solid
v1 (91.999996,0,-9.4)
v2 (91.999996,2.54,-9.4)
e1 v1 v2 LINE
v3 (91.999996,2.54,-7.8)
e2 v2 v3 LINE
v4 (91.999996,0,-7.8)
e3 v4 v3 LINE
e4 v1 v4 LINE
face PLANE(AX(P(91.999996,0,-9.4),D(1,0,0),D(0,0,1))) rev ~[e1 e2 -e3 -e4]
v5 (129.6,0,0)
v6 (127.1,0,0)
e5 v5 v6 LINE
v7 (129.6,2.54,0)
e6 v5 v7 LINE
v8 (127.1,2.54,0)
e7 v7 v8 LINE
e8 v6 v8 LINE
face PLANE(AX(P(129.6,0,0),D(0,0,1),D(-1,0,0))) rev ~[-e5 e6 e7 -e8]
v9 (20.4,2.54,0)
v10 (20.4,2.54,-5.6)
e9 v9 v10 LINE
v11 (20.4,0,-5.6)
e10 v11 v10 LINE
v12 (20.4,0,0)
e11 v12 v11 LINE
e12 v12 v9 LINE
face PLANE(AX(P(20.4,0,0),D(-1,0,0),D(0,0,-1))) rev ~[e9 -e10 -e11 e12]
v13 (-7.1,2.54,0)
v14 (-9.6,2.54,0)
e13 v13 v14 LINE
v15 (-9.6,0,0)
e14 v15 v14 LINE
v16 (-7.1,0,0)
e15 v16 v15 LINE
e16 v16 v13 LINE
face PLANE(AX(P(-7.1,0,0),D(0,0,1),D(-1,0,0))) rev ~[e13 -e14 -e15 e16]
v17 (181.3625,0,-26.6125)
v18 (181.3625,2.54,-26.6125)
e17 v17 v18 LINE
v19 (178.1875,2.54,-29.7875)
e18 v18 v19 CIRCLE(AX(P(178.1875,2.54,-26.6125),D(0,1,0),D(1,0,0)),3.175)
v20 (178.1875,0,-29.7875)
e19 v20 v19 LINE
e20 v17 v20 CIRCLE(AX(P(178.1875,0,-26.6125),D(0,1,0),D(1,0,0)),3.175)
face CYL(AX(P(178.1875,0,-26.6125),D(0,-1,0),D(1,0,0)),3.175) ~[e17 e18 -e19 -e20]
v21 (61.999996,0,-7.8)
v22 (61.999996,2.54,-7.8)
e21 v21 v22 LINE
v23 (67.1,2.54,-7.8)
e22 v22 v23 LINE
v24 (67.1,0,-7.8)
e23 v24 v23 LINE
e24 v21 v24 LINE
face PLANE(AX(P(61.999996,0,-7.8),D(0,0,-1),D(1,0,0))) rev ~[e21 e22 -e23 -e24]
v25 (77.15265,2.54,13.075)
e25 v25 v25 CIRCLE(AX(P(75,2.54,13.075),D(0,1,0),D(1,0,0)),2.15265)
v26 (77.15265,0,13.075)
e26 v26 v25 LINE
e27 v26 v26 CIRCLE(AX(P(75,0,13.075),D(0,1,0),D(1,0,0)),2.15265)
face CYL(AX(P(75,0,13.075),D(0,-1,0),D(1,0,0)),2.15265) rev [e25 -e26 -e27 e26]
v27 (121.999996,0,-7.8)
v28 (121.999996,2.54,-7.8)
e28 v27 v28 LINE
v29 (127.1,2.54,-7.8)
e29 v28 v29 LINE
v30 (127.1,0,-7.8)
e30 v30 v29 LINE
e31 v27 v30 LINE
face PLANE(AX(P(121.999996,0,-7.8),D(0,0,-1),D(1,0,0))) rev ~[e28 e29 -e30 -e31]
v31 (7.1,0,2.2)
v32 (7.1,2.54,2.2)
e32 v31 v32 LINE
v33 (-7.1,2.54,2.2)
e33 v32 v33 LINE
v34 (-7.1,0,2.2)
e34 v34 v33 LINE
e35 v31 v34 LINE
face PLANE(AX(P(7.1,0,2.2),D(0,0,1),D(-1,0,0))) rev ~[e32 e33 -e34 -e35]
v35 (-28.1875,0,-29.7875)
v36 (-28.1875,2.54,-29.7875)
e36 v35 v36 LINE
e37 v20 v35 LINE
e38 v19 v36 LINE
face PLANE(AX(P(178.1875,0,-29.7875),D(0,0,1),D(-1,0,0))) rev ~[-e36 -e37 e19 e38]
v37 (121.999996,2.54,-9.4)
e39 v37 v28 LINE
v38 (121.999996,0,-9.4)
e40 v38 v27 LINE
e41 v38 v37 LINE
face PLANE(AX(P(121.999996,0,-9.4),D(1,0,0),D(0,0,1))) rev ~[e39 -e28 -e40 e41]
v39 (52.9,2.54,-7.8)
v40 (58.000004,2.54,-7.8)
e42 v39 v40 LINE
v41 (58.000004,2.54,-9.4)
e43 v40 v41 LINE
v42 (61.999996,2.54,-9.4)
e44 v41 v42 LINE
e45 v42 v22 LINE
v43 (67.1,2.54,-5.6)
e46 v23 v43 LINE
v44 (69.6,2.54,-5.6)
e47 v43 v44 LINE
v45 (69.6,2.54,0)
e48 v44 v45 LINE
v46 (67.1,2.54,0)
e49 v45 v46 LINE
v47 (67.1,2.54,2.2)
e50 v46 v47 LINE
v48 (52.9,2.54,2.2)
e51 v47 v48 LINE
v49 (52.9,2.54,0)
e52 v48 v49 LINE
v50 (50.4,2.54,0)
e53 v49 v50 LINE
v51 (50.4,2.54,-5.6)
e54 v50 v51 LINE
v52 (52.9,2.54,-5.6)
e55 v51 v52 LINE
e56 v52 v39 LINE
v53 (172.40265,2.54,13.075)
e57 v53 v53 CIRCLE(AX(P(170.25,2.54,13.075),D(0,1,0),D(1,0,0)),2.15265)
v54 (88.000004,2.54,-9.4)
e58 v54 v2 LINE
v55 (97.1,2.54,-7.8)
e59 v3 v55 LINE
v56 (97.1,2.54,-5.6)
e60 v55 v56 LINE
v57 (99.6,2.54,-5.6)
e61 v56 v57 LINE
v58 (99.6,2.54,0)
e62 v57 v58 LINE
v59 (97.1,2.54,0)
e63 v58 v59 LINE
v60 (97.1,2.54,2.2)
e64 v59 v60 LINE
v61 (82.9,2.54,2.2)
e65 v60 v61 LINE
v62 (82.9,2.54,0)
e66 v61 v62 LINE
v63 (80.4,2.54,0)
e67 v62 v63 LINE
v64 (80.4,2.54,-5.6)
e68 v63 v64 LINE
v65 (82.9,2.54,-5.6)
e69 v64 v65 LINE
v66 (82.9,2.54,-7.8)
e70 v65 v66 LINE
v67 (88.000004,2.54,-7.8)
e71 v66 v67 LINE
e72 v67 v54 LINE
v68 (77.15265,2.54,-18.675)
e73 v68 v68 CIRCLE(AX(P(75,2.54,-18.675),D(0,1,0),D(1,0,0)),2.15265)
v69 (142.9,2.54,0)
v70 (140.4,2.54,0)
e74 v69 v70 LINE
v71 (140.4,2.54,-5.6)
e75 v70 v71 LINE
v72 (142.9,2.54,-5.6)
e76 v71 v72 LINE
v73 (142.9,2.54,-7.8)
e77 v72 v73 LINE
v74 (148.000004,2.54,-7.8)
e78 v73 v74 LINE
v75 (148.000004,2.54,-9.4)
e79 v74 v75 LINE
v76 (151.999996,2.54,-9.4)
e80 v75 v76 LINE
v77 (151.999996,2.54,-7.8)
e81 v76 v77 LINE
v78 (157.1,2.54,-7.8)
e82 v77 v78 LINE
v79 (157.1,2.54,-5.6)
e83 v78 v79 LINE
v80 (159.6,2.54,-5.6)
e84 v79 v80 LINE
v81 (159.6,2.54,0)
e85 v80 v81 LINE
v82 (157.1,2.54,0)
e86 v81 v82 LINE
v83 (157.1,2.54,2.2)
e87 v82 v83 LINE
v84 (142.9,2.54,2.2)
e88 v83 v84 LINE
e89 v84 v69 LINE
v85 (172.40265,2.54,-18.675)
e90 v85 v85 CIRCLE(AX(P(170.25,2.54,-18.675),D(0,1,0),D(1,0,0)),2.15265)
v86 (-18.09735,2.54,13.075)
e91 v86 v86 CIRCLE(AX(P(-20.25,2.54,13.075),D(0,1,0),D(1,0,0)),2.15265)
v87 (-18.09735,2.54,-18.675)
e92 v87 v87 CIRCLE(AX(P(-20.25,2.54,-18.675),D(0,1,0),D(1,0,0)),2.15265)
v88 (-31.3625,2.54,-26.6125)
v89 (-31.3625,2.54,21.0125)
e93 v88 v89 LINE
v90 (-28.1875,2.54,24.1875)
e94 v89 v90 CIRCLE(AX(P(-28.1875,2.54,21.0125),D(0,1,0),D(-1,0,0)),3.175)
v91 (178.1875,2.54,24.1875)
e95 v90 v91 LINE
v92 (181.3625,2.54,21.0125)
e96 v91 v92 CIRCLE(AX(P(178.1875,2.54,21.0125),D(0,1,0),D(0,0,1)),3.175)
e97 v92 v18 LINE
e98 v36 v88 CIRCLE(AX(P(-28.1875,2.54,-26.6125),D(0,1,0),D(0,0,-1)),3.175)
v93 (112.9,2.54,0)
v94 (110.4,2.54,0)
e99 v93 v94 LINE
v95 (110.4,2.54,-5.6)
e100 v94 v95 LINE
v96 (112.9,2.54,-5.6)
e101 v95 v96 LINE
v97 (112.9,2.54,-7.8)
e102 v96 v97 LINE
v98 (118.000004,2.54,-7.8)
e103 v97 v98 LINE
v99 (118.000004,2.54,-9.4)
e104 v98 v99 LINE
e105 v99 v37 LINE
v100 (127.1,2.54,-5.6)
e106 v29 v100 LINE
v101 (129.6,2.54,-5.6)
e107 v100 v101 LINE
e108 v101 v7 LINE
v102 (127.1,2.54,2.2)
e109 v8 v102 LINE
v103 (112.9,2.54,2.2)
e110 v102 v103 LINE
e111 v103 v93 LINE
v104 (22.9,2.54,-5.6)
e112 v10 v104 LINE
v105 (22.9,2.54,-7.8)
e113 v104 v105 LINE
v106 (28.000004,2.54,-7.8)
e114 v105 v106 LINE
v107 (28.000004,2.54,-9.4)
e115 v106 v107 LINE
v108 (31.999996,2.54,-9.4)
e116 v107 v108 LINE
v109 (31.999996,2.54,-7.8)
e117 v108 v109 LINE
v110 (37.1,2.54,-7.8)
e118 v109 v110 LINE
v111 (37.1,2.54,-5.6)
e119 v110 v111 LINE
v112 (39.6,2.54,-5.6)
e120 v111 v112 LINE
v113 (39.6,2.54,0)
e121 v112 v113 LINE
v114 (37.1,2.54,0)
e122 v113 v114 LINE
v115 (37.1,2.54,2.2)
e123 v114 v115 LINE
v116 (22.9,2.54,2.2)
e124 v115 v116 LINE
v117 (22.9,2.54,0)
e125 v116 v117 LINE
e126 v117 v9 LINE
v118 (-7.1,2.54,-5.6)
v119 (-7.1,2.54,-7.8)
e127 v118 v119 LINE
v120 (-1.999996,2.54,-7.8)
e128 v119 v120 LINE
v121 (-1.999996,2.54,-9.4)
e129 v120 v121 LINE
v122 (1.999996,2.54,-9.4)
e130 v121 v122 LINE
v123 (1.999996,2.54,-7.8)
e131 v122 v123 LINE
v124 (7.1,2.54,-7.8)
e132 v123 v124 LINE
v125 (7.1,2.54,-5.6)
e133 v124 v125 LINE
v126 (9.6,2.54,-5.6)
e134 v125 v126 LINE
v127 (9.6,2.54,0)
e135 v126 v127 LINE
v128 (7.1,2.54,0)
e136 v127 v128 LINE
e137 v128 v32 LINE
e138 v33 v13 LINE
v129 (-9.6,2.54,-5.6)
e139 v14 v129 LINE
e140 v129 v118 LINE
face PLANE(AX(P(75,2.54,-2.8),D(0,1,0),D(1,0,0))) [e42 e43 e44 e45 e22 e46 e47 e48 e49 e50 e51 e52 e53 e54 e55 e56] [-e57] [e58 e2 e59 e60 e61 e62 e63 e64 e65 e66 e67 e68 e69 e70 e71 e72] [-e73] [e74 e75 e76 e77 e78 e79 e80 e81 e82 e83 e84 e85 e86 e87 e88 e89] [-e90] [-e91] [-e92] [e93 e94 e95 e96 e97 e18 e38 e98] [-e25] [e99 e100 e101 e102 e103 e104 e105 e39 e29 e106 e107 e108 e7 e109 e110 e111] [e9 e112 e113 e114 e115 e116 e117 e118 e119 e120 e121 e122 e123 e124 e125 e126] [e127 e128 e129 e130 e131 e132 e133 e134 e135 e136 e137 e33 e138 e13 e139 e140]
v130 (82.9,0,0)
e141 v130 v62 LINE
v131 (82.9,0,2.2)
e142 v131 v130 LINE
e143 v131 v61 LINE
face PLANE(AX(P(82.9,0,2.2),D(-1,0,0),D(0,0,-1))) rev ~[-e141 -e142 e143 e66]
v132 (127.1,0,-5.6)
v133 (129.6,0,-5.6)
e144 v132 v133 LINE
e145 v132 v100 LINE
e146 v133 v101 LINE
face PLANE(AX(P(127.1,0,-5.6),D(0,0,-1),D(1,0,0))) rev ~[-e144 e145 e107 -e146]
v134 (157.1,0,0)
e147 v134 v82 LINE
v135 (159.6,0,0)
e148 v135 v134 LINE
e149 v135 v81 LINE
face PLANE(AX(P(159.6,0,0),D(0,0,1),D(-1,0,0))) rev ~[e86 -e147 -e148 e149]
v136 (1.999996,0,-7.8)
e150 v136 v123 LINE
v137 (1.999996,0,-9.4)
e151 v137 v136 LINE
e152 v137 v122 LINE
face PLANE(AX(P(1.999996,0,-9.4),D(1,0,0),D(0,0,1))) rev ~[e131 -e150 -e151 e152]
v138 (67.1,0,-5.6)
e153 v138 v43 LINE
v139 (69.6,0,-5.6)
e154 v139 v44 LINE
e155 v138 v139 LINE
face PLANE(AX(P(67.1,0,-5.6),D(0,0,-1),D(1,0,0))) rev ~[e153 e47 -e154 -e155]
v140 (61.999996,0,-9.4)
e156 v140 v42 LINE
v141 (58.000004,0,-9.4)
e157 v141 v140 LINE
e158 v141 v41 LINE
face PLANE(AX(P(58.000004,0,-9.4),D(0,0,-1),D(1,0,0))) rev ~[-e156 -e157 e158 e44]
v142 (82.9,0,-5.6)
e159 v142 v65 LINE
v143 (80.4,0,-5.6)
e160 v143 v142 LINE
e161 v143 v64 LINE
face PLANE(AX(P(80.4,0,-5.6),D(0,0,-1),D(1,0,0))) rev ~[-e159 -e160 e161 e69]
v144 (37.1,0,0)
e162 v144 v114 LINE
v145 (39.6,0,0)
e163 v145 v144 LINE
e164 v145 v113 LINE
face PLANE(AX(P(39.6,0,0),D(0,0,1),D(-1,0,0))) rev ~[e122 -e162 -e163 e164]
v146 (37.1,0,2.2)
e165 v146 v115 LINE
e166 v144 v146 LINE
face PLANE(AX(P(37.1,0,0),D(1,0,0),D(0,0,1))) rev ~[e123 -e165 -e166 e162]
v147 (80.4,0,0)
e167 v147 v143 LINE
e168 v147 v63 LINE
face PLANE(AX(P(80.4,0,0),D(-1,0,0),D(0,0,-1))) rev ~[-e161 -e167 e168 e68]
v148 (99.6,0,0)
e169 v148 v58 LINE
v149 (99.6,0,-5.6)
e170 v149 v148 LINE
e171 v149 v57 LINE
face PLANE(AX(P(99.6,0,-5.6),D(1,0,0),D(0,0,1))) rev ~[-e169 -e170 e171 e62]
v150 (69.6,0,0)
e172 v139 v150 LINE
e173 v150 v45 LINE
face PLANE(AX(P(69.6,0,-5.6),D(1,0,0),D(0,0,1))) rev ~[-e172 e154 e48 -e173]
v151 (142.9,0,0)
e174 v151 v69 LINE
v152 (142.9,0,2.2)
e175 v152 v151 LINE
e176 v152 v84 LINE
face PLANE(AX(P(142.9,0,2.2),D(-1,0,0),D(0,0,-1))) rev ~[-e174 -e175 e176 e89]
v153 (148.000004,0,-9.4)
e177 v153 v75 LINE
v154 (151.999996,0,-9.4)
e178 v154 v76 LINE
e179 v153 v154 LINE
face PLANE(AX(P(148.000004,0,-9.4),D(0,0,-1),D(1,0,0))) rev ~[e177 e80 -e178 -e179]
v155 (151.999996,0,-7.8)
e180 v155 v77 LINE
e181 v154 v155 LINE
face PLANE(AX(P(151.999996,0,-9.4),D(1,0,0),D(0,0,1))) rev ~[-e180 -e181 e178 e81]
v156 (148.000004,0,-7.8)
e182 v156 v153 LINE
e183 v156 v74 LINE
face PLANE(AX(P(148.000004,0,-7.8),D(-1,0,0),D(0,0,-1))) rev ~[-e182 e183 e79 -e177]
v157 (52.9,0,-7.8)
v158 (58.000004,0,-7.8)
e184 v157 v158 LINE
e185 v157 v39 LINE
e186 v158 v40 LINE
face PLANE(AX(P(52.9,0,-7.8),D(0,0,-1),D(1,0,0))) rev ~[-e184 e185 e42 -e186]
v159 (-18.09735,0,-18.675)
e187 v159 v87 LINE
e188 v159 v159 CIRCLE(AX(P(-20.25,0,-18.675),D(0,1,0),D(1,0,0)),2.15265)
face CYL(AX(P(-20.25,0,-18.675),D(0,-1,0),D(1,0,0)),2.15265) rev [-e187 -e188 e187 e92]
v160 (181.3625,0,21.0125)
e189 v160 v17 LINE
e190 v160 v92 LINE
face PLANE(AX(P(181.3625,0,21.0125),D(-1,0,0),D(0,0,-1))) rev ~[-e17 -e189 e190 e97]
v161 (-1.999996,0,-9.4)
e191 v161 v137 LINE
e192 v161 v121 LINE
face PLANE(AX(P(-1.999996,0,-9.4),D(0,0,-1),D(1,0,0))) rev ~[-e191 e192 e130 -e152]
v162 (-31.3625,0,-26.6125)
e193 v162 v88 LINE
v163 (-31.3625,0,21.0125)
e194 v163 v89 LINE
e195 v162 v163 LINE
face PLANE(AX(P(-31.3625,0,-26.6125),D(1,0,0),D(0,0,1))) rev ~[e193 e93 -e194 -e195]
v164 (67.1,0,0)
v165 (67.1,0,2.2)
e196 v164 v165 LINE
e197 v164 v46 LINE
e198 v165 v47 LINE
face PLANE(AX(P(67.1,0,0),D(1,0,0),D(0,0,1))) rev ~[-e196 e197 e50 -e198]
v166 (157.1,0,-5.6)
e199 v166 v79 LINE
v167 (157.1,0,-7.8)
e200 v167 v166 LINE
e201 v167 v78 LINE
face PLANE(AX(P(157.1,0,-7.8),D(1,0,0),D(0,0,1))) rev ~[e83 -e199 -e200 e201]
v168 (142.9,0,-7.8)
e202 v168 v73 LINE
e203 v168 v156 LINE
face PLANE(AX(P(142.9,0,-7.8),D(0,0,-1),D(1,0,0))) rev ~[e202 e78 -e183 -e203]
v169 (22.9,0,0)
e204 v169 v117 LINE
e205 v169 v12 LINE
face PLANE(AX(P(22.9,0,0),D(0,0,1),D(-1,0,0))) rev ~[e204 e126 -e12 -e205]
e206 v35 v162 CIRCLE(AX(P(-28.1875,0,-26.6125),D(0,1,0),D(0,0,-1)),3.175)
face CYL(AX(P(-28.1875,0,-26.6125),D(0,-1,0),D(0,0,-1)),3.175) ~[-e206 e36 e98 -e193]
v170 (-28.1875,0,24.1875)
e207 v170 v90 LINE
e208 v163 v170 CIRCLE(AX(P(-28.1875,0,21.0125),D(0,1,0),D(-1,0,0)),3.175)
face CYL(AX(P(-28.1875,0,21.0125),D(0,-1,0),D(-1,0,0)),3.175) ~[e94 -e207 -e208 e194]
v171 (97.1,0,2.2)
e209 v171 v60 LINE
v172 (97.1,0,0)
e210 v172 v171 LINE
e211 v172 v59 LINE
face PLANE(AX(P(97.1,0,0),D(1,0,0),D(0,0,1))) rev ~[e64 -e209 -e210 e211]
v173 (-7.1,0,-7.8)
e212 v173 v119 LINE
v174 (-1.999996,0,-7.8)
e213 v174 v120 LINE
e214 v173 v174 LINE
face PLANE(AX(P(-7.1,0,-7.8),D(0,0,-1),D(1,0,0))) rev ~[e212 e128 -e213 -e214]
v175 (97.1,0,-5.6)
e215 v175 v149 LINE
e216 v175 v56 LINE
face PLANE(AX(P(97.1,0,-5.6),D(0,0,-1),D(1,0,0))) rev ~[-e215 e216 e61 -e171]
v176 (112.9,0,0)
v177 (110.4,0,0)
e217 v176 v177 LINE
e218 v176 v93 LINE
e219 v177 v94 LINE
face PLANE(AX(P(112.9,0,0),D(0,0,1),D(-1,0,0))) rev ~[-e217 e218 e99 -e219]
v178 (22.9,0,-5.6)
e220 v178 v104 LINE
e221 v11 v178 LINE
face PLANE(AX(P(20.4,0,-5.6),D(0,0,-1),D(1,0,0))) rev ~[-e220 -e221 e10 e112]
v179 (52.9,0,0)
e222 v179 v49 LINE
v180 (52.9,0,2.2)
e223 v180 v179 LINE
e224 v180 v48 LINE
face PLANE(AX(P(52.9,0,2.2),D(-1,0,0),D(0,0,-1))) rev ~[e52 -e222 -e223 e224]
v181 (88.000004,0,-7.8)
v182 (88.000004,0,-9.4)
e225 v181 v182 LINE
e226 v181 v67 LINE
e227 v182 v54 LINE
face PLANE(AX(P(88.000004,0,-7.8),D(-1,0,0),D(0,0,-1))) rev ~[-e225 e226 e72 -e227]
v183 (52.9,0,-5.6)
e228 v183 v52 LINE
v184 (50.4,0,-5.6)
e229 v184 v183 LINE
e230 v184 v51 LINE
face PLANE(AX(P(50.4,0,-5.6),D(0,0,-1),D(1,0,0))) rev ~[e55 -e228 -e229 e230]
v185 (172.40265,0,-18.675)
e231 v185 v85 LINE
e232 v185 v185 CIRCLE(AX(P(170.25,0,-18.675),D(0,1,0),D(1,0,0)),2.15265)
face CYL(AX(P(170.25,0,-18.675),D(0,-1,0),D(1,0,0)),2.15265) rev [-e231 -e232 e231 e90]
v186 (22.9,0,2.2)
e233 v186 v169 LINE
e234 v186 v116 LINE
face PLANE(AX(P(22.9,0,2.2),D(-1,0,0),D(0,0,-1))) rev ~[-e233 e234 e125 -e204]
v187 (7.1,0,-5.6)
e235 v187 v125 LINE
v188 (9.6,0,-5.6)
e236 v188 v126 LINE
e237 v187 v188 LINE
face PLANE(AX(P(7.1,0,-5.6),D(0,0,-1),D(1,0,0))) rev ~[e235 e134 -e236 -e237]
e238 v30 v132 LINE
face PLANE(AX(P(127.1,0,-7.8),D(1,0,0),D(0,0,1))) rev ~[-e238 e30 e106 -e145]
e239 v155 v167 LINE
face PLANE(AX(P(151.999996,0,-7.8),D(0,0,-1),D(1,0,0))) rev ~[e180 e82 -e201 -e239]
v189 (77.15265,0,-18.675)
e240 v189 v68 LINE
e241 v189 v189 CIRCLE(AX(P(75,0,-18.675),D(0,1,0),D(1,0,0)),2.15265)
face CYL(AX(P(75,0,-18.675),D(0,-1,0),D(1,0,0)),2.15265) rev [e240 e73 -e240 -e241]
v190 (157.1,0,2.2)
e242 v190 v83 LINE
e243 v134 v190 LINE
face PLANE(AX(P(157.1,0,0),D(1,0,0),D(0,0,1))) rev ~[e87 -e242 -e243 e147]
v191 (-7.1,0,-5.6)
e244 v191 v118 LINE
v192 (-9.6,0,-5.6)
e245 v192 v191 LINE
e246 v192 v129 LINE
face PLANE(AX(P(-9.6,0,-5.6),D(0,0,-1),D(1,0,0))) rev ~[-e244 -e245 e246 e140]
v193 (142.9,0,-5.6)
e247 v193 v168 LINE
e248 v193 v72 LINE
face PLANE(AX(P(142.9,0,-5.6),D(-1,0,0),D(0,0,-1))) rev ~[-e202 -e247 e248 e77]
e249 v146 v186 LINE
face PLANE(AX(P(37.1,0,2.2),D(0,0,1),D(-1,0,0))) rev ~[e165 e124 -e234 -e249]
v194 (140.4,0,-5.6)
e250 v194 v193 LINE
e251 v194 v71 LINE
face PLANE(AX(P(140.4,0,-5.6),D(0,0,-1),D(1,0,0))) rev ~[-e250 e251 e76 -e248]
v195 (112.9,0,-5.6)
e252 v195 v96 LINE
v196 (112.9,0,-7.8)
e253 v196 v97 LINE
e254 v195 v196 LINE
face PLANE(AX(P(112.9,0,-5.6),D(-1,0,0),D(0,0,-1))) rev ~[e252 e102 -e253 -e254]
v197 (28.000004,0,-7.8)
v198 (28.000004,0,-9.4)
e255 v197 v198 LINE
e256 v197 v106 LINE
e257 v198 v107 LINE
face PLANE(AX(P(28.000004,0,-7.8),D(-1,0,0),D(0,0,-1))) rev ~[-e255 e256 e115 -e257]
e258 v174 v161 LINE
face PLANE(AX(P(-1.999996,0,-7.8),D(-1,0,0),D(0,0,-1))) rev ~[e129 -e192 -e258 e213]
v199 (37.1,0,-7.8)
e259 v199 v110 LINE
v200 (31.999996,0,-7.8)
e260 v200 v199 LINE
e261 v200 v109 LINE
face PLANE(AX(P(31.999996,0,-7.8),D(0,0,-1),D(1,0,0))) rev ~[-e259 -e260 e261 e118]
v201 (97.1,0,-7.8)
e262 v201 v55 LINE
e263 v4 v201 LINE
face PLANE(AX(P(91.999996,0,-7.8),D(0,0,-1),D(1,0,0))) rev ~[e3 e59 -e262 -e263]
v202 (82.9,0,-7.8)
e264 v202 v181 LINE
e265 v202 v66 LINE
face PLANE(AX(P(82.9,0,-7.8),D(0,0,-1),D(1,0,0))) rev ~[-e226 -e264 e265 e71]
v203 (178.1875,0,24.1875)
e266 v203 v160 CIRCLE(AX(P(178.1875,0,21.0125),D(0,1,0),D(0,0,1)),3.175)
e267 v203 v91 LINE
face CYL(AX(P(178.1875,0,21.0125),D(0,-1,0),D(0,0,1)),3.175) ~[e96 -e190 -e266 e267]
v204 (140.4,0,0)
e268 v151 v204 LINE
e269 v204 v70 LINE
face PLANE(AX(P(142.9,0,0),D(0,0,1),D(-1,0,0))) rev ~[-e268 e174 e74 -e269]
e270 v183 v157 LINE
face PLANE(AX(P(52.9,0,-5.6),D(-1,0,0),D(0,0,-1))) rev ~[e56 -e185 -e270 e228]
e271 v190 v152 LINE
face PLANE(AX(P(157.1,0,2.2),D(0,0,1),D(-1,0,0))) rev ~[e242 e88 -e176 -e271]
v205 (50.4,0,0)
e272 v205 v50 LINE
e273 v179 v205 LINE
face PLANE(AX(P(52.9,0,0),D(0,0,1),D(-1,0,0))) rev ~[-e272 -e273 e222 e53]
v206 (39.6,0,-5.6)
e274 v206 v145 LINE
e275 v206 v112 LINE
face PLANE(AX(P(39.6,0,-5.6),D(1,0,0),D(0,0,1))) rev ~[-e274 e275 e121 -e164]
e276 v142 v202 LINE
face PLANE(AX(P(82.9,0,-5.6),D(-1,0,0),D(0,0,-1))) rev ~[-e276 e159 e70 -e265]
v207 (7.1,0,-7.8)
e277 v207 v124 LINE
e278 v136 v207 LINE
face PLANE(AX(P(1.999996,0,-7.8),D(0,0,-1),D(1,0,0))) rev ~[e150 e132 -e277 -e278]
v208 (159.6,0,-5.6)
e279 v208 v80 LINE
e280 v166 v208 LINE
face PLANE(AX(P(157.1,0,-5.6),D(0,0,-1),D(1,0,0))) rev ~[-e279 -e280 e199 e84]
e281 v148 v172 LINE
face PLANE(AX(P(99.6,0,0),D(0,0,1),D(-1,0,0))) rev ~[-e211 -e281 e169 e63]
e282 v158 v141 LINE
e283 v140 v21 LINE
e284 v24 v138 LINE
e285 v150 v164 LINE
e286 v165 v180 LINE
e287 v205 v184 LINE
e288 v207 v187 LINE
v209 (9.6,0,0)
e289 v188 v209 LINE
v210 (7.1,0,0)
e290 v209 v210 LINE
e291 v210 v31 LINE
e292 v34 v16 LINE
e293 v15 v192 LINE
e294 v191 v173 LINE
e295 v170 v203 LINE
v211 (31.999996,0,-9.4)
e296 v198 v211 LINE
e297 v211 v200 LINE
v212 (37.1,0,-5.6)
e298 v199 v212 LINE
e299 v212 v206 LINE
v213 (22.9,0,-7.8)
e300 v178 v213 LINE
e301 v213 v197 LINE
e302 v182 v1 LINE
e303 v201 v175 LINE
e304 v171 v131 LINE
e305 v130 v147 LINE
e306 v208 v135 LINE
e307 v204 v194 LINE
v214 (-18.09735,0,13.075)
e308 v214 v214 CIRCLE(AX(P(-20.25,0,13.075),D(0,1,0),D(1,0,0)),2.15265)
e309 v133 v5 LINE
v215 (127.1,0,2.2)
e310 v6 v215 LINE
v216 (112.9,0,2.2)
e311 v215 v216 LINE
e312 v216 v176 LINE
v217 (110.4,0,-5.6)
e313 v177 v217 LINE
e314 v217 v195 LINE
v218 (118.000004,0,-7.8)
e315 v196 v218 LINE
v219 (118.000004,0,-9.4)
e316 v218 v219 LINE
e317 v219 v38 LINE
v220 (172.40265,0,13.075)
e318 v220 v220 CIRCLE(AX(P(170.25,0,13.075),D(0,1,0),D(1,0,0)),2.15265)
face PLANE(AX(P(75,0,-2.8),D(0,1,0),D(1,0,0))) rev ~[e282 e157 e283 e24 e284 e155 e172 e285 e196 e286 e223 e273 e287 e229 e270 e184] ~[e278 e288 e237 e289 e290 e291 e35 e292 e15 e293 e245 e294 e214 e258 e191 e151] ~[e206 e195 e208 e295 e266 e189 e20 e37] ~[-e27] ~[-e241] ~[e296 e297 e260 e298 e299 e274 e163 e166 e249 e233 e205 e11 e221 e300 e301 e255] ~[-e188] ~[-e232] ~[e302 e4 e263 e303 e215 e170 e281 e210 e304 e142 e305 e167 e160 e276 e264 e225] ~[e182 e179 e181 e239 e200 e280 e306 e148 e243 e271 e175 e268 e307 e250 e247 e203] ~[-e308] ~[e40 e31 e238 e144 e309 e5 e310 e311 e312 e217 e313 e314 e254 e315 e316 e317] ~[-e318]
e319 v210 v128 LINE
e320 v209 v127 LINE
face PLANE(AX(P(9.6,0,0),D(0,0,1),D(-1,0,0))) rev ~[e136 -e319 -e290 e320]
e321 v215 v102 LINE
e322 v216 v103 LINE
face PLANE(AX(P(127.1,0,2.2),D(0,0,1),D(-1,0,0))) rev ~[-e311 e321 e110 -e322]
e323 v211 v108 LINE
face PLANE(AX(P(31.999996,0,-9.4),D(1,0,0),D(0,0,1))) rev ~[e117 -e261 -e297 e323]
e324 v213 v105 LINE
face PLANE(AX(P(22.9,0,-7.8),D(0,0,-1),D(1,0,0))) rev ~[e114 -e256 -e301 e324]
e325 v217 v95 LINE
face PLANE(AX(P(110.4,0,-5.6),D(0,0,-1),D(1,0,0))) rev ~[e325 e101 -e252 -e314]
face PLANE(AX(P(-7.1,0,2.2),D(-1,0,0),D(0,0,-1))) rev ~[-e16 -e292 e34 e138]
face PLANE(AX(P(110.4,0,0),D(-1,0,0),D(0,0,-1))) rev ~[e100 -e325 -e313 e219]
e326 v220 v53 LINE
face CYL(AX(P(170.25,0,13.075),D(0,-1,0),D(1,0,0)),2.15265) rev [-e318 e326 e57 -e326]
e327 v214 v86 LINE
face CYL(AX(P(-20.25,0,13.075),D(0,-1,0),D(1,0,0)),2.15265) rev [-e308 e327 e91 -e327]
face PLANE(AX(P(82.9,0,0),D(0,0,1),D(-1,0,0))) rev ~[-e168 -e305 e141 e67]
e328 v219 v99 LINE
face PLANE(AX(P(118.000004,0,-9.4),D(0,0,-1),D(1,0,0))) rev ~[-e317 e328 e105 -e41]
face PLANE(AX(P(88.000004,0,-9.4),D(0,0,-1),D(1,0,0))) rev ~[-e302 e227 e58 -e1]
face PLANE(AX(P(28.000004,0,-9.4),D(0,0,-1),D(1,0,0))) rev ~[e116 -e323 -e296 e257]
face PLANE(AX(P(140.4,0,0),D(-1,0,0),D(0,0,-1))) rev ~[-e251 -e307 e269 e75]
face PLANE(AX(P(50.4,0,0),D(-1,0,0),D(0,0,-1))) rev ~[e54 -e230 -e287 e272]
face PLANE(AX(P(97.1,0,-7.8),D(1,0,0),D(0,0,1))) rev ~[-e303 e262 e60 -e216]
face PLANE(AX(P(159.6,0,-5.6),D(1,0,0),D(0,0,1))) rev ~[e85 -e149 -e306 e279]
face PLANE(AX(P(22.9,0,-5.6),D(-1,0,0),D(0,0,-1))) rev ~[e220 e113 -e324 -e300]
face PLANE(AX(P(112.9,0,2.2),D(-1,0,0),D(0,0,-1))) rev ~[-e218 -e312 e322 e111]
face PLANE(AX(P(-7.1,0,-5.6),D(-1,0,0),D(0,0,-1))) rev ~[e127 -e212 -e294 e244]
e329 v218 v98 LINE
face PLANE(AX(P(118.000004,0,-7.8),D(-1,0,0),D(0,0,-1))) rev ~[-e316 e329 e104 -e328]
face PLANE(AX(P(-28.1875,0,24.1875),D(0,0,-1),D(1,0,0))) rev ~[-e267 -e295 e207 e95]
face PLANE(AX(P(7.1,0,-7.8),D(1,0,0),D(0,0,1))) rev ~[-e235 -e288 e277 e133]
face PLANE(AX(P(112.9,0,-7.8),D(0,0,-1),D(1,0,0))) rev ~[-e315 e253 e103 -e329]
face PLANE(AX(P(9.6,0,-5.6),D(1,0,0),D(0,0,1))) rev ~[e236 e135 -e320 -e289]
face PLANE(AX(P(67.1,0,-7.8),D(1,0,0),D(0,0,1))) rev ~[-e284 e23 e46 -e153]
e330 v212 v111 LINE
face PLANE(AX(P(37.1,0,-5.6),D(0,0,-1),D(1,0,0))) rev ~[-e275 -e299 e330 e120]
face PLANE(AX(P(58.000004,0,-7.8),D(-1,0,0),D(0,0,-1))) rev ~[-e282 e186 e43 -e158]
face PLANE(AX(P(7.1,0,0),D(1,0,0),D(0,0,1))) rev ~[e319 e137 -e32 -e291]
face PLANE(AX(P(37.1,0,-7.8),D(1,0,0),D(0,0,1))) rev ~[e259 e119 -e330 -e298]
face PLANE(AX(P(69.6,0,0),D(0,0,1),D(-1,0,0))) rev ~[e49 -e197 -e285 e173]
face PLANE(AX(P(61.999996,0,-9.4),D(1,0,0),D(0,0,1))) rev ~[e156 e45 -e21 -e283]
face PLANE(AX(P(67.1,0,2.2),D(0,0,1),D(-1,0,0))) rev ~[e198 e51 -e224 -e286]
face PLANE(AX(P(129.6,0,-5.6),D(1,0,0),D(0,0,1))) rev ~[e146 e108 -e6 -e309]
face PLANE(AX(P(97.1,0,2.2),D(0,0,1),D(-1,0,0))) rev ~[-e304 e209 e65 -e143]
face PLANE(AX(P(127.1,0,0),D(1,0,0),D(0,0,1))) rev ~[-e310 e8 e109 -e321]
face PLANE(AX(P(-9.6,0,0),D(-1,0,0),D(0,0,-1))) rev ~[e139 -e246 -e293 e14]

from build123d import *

# Parameters (mm, degrees)
SKETCH1_R           = 2.15265
BOSS_EXTRUDE1_DEPTH = 2.54


with BuildPart() as part:
    # Sketch1 → Boss-Extrude1 (new body)
    with BuildSketch(Plane(origin=(0, 0, 0), x_dir=(1, 0, 0), z_dir=(0, 1, 0))):
        with BuildLine():
            Line((178.1875, 29.7875), (-28.1875, 29.7875))
            ThreePointArc((-28.1875, 29.7875), (-30.43256403, 28.85756403), (-31.3625, 26.6125))
            Line((-31.3625, 26.6125), (-31.3625, -21.0125))
            ThreePointArc((-31.3625, -21.0125), (-30.43256403, -23.25756403), (-28.1875, -24.1875))
            Line((-28.1875, -24.1875), (178.1875, -24.1875))
            ThreePointArc((178.1875, -24.1875), (180.43256403, -23.25756403), (181.3625, -21.0125))
            Line((181.3625, -21.0125), (181.3625, 26.6125))
            ThreePointArc((181.3625, 26.6125), (180.43256403, 28.85756403), (178.1875, 29.7875))
        make_face()
        with Locations((-20.25, -13.075)):
            Circle(SKETCH1_R, mode=Mode.SUBTRACT)
        with Locations((75, -13.075)):
            Circle(SKETCH1_R, mode=Mode.SUBTRACT)
        with Locations((170.25, -13.075)):
            Circle(SKETCH1_R, mode=Mode.SUBTRACT)
        Polygon((-1.999996, 7.8), (-1.999996, 9.4), (1.999996, 9.4), (1.999996, 7.8), (7.1, 7.8), (7.1, 5.6), (9.6, 5.6), (9.6, 0), (7.1, 0), (7.1, -2.2), (-7.1, -2.2), (-7.1, 0), (-9.6, 0), (-9.6, 5.6), (-7.1, 5.6), (-7.1, 7.8), align=None, mode=Mode.SUBTRACT)
        Polygon((28.000004, 7.8), (28.000004, 9.4), (31.999996, 9.4), (31.999996, 7.8), (37.1, 7.8), (37.1, 5.6), (39.6, 5.6), (39.6, 0), (37.1, 0), (37.1, -2.2), (22.9, -2.2), (22.9, 0), (20.4, 0), (20.4, 5.6), (22.9, 5.6), (22.9, 7.8), align=None, mode=Mode.SUBTRACT)
        Polygon((58.000004, 7.8), (58.000004, 9.4), (61.999996, 9.4), (61.999996, 7.8), (67.1, 7.8), (67.1, 5.6), (69.6, 5.6), (69.6, 0), (67.1, 0), (67.1, -2.2), (52.9, -2.2), (52.9, 0), (50.4, 0), (50.4, 5.6), (52.9, 5.6), (52.9, 7.8), align=None, mode=Mode.SUBTRACT)
        with Locations((-20.25, 18.675)):
            Circle(SKETCH1_R, mode=Mode.SUBTRACT)
        Polygon((88.000004, 7.8), (88.000004, 9.4), (91.999996, 9.4), (91.999996, 7.8), (97.1, 7.8), (97.1, 5.6), (99.6, 5.6), (99.6, 0), (97.1, 0), (97.1, -2.2), (82.9, -2.2), (82.9, 0), (80.4, 0), (80.4, 5.6), (82.9, 5.6), (82.9, 7.8), align=None, mode=Mode.SUBTRACT)
        Polygon((118.000004, 7.8), (118.000004, 9.4), (121.999996, 9.4), (121.999996, 7.8), (127.1, 7.8), (127.1, 5.6), (129.6, 5.6), (129.6, 0), (127.1, 0), (127.1, -2.2), (112.9, -2.2), (112.9, 0), (110.4, 0), (110.4, 5.6), (112.9, 5.6), (112.9, 7.8), align=None, mode=Mode.SUBTRACT)
        Polygon((148.000004, 7.8), (148.000004, 9.4), (151.999996, 9.4), (151.999996, 7.8), (157.1, 7.8), (157.1, 5.6), (159.6, 5.6), (159.6, 0), (157.1, 0), (157.1, -2.2), (142.9, -2.2), (142.9, 0), (140.4, 0), (140.4, 5.6), (142.9, 5.6), (142.9, 7.8), align=None, mode=Mode.SUBTRACT)
        with Locations((75, 18.675)):
            Circle(SKETCH1_R, mode=Mode.SUBTRACT)
        with Locations((170.25, 18.675)):
            Circle(SKETCH1_R, mode=Mode.SUBTRACT)
    extrude(amount=BOSS_EXTRUDE1_DEPTH)


solid = part.part
